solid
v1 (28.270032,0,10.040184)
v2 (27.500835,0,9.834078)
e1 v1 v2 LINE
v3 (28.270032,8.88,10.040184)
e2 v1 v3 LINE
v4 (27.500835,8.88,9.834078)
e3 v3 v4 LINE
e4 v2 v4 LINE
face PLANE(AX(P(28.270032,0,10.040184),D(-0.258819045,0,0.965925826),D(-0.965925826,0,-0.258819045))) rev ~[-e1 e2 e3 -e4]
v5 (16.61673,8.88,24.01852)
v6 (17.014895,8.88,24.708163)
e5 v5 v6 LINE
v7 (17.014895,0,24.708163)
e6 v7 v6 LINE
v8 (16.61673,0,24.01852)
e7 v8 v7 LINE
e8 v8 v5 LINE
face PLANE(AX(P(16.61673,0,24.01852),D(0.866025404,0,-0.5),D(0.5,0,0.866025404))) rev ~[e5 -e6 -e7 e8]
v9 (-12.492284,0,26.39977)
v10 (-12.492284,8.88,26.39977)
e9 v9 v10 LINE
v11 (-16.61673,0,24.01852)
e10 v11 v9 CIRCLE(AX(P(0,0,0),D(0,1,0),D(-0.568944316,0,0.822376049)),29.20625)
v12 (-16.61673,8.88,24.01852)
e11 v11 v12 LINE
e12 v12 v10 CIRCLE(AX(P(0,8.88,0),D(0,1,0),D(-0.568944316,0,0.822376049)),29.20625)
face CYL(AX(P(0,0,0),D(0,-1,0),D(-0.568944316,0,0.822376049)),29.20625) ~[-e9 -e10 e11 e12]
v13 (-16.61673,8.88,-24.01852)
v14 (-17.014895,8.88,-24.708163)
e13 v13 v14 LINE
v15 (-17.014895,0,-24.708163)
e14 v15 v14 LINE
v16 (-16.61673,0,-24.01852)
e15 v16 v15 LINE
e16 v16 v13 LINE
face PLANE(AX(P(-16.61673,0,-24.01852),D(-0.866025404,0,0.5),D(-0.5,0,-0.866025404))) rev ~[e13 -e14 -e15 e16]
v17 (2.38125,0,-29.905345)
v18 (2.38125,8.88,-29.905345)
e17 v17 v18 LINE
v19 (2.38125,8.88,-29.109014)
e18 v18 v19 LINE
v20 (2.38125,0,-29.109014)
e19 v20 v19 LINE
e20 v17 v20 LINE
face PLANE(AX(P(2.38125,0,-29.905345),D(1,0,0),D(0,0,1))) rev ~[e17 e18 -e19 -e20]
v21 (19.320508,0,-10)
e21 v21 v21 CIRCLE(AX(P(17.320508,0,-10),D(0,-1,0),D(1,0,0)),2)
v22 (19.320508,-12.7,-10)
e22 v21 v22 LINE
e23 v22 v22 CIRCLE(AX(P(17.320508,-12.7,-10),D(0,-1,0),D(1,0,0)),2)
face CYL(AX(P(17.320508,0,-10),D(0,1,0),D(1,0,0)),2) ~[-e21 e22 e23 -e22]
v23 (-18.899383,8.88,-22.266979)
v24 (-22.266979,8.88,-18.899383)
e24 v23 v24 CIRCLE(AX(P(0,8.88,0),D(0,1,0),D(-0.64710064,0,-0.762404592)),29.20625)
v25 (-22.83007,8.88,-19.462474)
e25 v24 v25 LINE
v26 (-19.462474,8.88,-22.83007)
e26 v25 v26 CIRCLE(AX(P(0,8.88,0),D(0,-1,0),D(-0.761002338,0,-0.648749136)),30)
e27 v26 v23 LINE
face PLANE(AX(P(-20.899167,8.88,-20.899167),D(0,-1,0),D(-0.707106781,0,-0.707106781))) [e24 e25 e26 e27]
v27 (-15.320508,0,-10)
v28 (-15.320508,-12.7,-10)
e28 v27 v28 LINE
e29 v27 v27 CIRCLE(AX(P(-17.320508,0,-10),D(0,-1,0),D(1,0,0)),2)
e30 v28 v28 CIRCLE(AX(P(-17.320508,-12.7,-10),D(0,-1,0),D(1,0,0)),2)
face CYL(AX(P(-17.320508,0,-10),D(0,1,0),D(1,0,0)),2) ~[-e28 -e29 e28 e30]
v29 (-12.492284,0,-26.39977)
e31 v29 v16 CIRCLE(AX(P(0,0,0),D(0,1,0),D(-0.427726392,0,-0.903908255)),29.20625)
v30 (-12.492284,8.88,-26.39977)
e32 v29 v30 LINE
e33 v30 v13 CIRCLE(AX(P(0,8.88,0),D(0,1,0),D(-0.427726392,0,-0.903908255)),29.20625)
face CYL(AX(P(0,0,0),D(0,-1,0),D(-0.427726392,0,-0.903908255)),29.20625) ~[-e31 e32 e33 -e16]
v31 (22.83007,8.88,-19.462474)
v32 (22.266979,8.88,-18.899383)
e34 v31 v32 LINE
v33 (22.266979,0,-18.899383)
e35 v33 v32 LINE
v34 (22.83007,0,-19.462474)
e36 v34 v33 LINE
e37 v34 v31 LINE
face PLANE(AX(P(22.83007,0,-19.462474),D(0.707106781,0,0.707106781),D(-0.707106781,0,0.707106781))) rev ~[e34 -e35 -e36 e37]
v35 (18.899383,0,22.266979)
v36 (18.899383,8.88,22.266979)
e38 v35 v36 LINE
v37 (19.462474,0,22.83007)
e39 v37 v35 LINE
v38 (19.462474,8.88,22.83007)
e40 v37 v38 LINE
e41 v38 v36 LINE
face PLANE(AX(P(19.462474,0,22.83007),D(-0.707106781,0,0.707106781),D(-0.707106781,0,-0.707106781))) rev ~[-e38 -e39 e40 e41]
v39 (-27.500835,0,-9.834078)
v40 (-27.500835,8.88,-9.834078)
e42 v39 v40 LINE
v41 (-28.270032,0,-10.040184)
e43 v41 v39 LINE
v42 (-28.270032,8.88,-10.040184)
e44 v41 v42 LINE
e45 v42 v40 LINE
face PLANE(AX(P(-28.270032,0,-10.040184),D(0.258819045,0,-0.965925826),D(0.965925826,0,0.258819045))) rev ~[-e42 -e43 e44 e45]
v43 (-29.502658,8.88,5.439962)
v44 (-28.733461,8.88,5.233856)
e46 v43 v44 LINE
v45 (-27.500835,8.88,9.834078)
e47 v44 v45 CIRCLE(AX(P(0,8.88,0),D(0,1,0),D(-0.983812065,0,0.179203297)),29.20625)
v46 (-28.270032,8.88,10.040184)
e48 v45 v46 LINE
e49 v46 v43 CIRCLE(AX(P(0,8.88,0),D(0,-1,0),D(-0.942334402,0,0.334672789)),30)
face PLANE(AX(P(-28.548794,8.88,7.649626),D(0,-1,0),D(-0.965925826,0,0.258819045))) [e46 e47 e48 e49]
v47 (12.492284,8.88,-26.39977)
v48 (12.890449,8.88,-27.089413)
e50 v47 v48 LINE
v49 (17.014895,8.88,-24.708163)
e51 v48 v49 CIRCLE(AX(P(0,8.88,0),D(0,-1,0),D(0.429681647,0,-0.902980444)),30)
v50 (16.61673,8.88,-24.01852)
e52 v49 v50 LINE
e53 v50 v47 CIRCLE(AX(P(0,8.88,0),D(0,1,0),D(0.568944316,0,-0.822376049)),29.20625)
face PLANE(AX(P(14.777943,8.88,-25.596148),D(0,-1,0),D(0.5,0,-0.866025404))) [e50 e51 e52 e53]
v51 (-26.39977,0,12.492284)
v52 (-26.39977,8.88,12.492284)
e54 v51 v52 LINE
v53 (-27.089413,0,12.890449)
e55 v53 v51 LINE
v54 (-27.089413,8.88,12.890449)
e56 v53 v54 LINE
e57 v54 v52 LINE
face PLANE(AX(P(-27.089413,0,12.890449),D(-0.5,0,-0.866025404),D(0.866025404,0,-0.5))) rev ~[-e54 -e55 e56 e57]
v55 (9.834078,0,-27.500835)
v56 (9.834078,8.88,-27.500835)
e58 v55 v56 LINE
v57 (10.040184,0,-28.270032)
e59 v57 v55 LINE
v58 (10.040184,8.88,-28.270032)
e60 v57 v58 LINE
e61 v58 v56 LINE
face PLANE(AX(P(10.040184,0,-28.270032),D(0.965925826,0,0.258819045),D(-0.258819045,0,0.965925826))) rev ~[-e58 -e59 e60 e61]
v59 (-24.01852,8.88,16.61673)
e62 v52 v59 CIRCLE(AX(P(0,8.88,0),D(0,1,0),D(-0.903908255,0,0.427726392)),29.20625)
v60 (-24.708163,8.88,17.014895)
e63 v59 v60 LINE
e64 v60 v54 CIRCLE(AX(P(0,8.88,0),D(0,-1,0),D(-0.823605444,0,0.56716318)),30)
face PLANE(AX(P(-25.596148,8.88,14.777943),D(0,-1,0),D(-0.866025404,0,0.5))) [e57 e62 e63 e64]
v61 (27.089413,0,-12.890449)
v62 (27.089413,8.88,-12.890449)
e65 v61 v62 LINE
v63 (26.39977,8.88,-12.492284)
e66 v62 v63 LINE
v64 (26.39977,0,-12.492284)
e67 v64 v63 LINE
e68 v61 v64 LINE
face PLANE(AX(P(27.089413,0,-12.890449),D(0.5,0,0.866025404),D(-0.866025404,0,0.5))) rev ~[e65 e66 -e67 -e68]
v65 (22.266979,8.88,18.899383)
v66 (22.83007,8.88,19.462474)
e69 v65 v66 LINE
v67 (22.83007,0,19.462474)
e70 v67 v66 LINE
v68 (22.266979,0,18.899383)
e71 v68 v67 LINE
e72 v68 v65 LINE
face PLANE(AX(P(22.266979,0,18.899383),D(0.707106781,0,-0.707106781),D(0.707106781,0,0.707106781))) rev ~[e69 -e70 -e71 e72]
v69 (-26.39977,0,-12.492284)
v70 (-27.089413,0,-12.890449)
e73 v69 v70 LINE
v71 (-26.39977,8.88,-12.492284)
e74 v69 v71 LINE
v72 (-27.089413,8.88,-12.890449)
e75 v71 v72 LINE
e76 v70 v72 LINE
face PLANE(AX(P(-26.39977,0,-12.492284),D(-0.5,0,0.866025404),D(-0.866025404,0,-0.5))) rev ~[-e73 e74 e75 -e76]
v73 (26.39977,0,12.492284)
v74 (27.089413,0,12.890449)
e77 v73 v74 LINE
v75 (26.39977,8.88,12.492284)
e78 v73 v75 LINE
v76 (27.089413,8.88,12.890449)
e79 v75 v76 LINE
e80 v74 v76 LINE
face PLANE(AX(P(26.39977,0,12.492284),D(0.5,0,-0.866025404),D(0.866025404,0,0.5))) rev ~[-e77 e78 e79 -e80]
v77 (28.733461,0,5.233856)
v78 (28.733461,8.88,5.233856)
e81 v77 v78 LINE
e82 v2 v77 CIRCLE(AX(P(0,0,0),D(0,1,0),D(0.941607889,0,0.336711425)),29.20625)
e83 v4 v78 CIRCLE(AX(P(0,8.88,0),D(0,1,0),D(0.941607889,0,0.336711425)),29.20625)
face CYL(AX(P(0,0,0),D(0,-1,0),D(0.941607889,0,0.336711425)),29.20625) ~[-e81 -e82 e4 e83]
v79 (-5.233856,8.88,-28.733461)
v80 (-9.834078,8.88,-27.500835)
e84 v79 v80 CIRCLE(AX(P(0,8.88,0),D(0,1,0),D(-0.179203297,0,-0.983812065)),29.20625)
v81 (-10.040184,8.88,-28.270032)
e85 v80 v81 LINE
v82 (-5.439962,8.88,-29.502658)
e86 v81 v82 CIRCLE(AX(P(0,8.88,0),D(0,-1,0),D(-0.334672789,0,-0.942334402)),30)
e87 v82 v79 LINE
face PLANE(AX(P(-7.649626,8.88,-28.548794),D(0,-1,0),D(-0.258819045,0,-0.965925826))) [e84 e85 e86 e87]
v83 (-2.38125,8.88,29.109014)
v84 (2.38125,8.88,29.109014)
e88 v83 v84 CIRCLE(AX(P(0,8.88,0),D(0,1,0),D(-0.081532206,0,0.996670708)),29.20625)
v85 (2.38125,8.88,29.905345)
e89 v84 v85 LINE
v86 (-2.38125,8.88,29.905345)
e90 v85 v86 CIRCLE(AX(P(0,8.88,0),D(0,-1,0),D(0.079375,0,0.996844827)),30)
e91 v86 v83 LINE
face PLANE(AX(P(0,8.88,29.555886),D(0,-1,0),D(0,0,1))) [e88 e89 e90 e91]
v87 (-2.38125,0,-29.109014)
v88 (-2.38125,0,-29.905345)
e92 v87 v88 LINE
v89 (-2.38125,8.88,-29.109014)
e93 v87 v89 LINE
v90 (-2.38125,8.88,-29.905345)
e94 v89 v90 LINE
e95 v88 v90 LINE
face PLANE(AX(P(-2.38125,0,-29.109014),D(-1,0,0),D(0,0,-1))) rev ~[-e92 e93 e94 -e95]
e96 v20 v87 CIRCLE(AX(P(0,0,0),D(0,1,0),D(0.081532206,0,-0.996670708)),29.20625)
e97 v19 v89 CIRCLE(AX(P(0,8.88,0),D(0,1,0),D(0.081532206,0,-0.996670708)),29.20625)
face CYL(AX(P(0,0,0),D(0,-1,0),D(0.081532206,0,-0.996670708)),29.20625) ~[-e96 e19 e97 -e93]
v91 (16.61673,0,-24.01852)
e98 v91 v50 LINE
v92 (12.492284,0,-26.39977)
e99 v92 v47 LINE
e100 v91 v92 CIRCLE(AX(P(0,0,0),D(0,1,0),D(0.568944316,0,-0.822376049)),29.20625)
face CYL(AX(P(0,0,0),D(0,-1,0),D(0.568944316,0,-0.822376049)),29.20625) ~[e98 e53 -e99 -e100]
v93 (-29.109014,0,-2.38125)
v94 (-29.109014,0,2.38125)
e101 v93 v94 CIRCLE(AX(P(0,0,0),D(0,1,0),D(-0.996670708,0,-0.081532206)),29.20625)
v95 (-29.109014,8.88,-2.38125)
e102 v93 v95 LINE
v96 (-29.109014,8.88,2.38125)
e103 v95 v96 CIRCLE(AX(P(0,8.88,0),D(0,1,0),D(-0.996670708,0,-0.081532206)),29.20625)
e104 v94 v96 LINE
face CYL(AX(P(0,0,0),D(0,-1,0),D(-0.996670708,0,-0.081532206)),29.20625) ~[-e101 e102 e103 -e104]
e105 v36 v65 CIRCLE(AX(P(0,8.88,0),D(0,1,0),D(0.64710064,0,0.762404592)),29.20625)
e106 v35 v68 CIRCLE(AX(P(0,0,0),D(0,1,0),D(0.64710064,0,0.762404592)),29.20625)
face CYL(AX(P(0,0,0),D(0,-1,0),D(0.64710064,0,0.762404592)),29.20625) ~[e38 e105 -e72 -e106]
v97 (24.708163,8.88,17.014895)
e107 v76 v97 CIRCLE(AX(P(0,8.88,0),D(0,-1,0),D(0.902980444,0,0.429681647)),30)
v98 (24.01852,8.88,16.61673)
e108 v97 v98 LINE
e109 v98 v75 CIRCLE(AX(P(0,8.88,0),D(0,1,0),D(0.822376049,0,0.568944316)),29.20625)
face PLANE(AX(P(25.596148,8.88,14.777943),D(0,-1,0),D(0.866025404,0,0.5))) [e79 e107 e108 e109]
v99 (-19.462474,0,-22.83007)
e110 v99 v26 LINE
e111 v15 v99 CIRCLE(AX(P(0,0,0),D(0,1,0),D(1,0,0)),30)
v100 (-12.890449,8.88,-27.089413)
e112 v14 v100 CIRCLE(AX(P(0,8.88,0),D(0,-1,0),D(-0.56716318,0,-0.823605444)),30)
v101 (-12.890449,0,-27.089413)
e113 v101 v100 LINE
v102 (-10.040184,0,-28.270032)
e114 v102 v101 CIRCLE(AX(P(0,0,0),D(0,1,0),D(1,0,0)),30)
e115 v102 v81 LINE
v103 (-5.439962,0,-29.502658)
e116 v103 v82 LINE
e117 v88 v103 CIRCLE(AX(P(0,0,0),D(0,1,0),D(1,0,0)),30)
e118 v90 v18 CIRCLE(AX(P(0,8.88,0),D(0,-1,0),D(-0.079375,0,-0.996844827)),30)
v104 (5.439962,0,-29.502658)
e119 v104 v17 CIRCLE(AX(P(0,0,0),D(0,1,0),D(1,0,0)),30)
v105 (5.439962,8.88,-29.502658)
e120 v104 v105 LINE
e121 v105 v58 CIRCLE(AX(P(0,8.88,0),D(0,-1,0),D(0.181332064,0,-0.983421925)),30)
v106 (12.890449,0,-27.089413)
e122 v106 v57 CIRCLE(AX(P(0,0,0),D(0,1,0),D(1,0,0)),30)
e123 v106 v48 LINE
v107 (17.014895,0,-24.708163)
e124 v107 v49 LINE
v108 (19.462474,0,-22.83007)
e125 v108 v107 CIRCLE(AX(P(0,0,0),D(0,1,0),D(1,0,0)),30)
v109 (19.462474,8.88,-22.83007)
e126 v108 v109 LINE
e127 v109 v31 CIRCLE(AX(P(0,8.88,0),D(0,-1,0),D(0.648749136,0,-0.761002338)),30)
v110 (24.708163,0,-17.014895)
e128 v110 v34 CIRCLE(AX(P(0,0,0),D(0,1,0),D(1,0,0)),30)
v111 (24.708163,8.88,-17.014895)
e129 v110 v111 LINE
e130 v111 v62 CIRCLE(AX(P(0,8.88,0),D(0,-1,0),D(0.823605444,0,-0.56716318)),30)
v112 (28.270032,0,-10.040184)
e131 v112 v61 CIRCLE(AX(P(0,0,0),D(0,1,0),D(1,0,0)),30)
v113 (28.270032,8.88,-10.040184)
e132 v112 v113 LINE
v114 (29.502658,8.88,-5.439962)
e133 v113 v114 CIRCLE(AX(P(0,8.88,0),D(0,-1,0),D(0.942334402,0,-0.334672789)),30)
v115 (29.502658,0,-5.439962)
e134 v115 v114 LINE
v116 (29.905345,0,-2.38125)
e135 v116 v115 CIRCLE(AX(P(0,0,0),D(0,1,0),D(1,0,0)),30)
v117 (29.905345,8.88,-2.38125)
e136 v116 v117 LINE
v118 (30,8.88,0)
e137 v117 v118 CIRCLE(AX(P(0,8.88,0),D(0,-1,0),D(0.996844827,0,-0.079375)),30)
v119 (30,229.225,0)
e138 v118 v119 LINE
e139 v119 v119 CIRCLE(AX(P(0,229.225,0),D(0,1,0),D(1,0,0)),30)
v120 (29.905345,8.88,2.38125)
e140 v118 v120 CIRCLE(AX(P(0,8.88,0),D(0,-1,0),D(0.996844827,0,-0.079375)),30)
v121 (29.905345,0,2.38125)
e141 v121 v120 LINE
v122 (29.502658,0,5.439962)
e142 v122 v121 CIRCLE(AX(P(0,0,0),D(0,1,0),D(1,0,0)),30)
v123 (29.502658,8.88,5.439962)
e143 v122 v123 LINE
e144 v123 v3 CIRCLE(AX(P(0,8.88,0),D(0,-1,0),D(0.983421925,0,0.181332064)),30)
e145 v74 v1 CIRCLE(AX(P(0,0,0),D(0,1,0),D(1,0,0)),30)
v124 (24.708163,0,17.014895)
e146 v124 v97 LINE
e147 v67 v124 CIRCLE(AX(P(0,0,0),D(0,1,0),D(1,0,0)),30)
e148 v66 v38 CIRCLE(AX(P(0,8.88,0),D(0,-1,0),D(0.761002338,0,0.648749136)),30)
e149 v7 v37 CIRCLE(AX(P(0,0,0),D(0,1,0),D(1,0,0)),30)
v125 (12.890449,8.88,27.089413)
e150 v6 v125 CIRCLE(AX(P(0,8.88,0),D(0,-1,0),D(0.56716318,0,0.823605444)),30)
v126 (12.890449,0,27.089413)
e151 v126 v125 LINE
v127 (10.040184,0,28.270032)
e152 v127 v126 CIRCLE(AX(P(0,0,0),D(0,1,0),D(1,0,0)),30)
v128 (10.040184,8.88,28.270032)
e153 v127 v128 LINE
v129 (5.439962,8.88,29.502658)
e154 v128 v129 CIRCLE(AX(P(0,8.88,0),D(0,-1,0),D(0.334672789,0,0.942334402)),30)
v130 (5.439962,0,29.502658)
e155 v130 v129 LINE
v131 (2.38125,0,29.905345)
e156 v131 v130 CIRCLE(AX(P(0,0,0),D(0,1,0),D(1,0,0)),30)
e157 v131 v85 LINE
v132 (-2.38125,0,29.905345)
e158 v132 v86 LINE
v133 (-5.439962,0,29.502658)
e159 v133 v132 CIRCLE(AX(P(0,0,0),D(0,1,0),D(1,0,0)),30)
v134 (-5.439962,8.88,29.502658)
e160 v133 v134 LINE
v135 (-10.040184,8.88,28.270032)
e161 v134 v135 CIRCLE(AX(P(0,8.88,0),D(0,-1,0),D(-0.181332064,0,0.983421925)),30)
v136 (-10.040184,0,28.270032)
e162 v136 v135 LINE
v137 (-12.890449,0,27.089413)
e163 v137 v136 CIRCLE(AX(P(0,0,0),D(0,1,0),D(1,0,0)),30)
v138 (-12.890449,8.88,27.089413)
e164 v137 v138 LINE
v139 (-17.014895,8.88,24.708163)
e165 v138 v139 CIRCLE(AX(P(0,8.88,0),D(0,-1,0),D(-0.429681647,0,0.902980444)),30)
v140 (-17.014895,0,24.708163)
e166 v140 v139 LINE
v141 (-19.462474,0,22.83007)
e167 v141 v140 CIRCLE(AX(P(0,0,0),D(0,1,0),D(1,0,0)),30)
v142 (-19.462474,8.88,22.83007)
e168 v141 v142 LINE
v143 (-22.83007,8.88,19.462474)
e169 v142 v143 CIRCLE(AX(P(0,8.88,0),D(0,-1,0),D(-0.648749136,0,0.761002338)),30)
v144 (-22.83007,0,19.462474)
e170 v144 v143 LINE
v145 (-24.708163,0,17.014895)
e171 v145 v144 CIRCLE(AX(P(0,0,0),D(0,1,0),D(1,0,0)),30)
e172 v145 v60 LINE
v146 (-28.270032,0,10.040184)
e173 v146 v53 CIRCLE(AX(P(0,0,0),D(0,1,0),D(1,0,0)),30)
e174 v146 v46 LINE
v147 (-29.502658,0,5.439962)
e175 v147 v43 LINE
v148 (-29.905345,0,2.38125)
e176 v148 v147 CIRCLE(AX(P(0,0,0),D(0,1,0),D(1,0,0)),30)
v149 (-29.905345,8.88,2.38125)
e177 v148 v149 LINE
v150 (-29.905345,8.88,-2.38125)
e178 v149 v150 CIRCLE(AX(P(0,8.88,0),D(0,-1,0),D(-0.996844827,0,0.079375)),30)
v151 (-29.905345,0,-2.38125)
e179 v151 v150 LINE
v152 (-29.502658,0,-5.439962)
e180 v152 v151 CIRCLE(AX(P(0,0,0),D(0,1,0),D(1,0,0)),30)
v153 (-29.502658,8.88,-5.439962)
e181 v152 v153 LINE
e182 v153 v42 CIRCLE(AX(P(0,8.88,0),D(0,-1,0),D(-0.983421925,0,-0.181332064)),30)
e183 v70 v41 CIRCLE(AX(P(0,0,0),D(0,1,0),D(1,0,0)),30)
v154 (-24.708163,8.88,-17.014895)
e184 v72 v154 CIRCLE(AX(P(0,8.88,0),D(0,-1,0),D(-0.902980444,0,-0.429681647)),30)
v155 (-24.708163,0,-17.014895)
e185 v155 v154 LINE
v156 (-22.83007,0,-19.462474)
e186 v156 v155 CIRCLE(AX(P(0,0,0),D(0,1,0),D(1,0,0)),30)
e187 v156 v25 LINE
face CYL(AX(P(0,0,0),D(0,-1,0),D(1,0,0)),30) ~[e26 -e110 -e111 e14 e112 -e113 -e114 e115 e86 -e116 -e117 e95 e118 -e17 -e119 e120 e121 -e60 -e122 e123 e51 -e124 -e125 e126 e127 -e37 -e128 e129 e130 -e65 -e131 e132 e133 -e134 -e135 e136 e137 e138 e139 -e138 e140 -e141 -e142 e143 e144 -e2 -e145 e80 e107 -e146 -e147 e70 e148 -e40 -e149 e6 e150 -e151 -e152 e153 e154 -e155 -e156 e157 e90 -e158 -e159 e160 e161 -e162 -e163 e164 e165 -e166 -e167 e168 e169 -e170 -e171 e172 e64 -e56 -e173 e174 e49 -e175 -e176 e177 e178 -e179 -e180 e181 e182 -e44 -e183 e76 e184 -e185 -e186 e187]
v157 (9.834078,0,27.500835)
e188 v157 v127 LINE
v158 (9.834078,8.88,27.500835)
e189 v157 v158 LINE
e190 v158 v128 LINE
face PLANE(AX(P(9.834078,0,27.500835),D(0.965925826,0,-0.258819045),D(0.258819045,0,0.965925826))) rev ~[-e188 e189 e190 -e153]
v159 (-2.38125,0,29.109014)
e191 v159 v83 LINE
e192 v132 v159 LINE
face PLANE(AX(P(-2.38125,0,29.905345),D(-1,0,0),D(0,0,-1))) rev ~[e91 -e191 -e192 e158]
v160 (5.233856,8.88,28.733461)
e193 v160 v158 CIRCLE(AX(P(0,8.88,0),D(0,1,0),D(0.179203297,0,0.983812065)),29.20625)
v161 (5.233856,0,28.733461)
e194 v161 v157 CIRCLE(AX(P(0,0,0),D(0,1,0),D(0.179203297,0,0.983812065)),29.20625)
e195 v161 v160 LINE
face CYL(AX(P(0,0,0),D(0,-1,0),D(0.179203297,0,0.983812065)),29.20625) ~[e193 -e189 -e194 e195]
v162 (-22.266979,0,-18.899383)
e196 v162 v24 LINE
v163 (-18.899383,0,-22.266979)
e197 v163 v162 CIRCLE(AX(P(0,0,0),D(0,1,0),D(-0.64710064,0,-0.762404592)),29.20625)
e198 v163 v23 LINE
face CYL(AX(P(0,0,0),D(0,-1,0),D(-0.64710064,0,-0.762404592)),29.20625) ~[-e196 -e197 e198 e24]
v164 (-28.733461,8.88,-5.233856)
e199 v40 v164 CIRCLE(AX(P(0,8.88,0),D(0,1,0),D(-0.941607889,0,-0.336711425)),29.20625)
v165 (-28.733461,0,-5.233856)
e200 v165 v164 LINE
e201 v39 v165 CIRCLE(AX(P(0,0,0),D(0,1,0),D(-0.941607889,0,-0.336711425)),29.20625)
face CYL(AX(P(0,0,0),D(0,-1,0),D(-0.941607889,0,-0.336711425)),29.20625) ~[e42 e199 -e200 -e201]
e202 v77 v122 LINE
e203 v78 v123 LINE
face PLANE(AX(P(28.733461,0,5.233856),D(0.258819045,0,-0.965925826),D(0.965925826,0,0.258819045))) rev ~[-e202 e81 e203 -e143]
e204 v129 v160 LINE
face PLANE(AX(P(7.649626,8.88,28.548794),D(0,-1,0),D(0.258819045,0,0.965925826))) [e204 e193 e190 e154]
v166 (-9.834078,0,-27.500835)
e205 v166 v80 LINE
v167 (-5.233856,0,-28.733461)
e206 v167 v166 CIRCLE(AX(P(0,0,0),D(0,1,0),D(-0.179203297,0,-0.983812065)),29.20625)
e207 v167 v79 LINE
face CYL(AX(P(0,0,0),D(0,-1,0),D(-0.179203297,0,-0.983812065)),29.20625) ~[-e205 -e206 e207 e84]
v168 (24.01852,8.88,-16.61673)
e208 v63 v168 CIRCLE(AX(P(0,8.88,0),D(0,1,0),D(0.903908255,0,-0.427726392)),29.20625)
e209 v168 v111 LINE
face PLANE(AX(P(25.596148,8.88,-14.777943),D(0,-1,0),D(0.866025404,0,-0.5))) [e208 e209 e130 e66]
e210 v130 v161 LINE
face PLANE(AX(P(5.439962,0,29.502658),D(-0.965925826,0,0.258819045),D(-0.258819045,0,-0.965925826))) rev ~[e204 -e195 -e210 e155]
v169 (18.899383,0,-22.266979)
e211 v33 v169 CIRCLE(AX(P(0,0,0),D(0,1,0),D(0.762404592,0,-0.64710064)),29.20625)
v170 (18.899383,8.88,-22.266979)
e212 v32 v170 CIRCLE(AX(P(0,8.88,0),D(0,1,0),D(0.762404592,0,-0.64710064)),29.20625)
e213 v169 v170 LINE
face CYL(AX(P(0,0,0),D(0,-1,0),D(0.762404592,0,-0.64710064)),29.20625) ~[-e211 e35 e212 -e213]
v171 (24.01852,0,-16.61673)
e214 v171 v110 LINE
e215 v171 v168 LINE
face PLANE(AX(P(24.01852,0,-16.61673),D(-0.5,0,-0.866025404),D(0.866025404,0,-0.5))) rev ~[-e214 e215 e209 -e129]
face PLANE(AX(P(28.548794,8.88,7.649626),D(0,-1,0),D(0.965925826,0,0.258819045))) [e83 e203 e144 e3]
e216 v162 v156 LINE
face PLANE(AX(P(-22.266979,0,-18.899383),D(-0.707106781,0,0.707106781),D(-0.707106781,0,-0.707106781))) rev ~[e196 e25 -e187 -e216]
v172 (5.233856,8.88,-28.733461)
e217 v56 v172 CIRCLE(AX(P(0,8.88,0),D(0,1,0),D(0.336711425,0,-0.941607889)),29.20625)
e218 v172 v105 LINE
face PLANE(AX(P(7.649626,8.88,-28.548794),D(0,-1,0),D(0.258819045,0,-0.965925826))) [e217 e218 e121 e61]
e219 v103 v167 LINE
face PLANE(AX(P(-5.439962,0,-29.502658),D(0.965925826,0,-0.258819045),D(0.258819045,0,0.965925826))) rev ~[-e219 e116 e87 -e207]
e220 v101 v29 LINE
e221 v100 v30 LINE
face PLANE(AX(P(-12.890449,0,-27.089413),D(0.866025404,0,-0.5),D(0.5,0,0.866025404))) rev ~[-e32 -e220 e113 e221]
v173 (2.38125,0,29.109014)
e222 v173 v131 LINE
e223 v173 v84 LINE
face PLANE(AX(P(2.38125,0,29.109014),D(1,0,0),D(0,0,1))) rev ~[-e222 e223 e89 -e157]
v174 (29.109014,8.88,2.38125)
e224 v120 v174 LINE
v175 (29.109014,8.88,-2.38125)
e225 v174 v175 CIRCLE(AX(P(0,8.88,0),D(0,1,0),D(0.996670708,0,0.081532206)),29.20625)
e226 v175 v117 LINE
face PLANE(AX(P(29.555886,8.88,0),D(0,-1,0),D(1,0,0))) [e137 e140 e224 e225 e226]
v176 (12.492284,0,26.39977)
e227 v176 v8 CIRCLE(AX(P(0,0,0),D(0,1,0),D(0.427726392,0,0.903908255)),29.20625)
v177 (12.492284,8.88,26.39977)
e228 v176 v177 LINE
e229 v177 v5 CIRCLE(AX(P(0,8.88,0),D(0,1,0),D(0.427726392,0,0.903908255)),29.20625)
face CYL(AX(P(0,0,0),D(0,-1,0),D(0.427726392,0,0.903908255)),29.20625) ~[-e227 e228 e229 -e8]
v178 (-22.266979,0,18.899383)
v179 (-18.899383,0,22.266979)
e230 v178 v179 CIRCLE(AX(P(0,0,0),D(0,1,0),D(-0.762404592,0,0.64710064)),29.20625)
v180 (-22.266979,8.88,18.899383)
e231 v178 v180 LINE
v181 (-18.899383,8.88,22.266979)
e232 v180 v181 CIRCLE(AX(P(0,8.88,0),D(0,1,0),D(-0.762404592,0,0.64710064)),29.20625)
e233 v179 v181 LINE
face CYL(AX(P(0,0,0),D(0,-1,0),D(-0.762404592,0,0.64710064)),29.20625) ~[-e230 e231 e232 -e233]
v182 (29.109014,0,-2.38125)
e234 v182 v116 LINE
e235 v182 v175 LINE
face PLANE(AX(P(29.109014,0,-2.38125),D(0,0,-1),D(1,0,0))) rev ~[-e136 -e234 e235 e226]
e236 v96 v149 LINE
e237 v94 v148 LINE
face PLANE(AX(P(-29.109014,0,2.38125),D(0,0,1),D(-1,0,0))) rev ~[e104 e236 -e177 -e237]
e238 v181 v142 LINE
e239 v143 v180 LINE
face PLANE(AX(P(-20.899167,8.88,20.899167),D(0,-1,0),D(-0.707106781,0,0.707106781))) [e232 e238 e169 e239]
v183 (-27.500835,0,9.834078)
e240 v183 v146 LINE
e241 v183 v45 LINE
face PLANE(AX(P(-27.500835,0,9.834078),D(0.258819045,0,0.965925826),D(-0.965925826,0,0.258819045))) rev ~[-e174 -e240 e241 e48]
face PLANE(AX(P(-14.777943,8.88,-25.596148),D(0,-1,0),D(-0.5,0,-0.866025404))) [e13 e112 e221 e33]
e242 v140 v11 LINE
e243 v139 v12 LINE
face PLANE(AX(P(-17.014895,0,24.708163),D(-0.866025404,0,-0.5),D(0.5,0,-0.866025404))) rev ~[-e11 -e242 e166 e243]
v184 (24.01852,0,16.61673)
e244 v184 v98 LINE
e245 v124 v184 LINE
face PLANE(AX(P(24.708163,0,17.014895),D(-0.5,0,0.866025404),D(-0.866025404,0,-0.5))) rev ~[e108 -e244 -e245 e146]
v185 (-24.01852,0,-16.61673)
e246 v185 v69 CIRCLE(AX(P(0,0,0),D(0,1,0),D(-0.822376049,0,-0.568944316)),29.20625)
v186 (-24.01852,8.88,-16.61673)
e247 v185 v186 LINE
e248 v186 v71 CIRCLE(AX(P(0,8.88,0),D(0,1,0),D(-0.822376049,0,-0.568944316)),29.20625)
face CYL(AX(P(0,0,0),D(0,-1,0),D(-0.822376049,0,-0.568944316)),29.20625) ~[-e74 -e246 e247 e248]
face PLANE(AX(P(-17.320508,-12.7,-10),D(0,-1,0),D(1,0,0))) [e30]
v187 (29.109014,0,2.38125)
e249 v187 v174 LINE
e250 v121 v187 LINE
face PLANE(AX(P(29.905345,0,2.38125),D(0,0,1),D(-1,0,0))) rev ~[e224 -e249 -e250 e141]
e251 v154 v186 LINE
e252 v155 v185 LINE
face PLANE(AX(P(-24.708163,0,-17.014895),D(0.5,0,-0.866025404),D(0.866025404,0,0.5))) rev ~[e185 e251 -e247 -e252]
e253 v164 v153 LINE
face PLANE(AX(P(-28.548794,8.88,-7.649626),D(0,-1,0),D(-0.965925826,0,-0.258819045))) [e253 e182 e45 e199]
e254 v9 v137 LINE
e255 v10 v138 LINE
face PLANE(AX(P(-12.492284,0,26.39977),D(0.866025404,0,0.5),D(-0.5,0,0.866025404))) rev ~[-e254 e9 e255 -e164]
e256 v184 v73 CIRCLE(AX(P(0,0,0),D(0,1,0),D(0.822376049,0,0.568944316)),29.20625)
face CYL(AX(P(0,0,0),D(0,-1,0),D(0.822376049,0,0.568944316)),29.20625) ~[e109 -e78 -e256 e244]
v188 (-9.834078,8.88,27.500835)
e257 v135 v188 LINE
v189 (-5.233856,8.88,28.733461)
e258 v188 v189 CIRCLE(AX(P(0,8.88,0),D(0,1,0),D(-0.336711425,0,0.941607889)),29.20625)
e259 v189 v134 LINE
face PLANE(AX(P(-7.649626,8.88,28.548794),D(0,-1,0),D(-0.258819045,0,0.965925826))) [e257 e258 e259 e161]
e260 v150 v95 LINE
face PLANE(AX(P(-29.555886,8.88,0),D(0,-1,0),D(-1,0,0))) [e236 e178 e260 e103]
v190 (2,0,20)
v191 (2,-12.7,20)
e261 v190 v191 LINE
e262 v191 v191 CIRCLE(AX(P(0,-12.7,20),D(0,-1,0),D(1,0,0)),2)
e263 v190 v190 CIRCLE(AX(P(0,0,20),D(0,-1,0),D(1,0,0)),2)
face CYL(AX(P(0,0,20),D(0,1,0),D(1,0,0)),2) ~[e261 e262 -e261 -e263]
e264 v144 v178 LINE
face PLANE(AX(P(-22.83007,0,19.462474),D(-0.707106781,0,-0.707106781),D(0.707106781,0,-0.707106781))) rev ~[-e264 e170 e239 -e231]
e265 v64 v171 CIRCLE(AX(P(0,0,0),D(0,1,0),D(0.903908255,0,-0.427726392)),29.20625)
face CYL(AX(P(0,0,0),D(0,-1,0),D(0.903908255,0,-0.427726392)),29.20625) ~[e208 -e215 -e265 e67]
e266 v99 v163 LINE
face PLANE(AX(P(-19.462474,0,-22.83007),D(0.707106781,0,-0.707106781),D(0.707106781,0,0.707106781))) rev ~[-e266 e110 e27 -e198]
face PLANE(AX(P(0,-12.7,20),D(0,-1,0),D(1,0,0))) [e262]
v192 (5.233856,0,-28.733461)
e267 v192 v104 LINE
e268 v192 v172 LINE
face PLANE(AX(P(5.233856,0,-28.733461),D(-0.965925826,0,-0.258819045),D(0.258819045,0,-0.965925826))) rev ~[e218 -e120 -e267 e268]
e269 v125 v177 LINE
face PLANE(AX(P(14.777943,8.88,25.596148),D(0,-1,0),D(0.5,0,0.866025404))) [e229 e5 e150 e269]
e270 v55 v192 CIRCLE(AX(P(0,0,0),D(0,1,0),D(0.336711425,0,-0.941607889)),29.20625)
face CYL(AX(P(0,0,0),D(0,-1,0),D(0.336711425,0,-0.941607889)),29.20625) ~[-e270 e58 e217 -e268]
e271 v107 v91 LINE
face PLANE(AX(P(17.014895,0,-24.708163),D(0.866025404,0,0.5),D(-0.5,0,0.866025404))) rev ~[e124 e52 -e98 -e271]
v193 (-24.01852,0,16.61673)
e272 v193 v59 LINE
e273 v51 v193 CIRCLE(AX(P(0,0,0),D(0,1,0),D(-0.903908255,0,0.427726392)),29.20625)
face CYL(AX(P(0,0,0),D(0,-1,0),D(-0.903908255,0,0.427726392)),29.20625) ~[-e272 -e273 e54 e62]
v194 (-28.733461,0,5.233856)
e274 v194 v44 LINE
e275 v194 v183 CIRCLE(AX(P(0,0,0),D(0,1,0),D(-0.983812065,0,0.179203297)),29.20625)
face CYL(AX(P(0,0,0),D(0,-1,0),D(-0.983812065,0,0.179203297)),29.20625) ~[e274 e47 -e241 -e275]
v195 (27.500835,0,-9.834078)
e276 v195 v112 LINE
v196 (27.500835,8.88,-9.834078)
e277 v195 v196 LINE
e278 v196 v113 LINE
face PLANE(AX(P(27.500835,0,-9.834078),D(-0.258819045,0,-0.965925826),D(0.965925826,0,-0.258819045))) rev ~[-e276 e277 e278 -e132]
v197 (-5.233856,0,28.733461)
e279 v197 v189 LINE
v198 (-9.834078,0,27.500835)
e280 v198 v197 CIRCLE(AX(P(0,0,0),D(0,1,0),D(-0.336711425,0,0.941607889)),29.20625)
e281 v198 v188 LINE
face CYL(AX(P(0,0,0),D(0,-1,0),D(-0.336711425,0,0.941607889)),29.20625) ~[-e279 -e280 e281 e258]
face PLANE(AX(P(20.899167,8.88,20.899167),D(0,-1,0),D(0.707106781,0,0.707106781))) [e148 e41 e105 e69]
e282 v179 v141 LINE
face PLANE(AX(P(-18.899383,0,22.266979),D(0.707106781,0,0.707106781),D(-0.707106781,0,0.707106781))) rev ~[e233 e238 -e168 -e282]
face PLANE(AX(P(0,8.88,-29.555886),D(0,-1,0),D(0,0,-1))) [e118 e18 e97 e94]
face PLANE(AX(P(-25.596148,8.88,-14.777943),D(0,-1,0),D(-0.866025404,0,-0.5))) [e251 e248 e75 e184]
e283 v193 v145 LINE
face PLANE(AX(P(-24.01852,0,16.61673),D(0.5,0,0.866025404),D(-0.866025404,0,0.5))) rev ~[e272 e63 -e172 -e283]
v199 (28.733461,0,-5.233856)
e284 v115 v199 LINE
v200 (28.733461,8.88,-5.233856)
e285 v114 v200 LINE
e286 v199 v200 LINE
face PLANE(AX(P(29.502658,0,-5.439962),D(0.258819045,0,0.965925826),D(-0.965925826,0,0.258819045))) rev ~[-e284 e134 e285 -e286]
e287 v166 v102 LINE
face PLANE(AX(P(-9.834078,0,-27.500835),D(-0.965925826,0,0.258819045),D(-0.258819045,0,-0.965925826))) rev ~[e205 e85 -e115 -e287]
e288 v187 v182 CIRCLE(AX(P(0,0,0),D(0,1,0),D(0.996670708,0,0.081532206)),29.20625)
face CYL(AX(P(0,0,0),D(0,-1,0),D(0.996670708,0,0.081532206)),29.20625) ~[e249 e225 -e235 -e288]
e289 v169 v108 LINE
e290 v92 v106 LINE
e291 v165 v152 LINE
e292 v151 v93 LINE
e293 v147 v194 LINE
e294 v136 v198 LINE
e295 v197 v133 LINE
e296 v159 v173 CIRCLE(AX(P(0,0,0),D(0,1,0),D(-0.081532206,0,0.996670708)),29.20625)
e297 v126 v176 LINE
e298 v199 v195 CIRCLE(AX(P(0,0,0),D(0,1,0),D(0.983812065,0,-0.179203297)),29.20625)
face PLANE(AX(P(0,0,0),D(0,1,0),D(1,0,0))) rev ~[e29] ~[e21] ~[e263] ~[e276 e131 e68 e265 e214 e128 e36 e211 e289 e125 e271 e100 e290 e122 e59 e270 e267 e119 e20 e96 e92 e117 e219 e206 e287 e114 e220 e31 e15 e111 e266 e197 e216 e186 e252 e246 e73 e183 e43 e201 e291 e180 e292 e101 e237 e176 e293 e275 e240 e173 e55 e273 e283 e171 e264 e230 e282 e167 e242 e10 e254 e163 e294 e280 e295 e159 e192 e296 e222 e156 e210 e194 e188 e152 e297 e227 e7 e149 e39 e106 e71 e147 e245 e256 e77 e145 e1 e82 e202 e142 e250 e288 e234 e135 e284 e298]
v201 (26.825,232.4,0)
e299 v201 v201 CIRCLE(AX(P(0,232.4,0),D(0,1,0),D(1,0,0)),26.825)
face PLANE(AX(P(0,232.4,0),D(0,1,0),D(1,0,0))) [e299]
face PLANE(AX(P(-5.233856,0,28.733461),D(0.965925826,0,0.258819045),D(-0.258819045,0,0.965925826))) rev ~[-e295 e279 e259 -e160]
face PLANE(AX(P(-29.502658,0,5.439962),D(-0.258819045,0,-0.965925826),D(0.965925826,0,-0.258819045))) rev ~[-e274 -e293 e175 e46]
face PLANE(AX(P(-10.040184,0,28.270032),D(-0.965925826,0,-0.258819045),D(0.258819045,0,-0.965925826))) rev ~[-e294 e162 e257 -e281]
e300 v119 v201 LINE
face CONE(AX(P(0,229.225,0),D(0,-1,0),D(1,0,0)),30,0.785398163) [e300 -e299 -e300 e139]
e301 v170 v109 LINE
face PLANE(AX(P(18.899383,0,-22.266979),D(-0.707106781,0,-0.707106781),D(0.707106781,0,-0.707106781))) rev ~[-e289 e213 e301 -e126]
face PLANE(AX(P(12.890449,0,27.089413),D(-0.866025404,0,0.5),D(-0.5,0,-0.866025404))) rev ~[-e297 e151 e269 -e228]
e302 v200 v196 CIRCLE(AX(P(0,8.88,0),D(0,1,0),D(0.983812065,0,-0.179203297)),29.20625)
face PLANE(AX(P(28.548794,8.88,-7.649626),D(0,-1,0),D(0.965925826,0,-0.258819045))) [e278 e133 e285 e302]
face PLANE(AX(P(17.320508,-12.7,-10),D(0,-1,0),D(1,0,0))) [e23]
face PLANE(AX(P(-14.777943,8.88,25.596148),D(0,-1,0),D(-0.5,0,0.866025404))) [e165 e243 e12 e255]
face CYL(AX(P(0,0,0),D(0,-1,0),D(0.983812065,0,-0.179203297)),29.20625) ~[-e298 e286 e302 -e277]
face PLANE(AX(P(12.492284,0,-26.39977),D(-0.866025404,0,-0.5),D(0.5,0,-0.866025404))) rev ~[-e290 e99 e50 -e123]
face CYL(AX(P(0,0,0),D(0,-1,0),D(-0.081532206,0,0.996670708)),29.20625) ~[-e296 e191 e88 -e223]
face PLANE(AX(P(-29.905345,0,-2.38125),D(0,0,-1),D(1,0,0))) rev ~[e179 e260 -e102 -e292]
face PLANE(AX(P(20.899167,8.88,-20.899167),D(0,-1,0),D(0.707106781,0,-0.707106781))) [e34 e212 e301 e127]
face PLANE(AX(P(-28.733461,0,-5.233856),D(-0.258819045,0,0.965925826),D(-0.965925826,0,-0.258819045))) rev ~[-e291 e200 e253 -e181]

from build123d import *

# Parameters (mm, degrees)
SKETCH1_R          = 30
EXTRUDE1_DEPTH     = 232.4
CHAMFER1_SIZE      = 3.175
CUT_EXTRUDE1_DEPTH = 8.88
CIRPATTERN3_COUNT  = 24
SKETCH8_R          = 2
EXTRUDE2_DEPTH     = 12.7


with BuildPart() as part:
    # Sketch1 → Extrude1 (new body)
    with BuildSketch(Plane(origin=(0, 0, 0), x_dir=(1, 0, 0), z_dir=(0, 1, 0))):
        Circle(SKETCH1_R)
    extrude(amount=EXTRUDE1_DEPTH)

    # Chamfer1
    chamfer1_edges = [part.edges().sort_by_distance(p)[0] for p in [
        (-30, 232.4, 0),
    ]]
    chamfer(chamfer1_edges, length=CHAMFER1_SIZE)

    # Sketch7 → Cut-Extrude1 (cut)
    with BuildSketch(Plane.XZ):
        with BuildLine():
            Line((29.905344814, 2.38125), (29.109013853, 2.38125))
            ThreePointArc((29.109013853, 2.38125), (29.20625, 0), (29.109013853, -2.38125))
            Line((29.109013853, -2.38125), (29.905344814, -2.38125))
            ThreePointArc((29.905344814, -2.38125), (30, 0), (29.905344814, 2.38125))
        make_face()
    cut_extrude1 = extrude(amount=-CUT_EXTRUDE1_DEPTH, mode=Mode.SUBTRACT)

    # CirPattern3: Cut-Extrude1 ×24 about axis
    cirpattern3_axis = Axis((0, 0, 0), (0, 1, 0))
    for i in range(1, CIRPATTERN3_COUNT):
        add(cut_extrude1.rotate(cirpattern3_axis, i * 360 / CIRPATTERN3_COUNT), mode=Mode.SUBTRACT)

    # Sketch8 → Extrude2 (add)
    with BuildSketch(Plane.XZ):
        with Locations((0, 20)):
            Circle(SKETCH8_R)
        with Locations((17.320508076, -10)):
            Circle(SKETCH8_R)
        with Locations((-17.320508076, -10)):
            Circle(SKETCH8_R)
    extrude(amount=EXTRUDE2_DEPTH)


solid = part.part
